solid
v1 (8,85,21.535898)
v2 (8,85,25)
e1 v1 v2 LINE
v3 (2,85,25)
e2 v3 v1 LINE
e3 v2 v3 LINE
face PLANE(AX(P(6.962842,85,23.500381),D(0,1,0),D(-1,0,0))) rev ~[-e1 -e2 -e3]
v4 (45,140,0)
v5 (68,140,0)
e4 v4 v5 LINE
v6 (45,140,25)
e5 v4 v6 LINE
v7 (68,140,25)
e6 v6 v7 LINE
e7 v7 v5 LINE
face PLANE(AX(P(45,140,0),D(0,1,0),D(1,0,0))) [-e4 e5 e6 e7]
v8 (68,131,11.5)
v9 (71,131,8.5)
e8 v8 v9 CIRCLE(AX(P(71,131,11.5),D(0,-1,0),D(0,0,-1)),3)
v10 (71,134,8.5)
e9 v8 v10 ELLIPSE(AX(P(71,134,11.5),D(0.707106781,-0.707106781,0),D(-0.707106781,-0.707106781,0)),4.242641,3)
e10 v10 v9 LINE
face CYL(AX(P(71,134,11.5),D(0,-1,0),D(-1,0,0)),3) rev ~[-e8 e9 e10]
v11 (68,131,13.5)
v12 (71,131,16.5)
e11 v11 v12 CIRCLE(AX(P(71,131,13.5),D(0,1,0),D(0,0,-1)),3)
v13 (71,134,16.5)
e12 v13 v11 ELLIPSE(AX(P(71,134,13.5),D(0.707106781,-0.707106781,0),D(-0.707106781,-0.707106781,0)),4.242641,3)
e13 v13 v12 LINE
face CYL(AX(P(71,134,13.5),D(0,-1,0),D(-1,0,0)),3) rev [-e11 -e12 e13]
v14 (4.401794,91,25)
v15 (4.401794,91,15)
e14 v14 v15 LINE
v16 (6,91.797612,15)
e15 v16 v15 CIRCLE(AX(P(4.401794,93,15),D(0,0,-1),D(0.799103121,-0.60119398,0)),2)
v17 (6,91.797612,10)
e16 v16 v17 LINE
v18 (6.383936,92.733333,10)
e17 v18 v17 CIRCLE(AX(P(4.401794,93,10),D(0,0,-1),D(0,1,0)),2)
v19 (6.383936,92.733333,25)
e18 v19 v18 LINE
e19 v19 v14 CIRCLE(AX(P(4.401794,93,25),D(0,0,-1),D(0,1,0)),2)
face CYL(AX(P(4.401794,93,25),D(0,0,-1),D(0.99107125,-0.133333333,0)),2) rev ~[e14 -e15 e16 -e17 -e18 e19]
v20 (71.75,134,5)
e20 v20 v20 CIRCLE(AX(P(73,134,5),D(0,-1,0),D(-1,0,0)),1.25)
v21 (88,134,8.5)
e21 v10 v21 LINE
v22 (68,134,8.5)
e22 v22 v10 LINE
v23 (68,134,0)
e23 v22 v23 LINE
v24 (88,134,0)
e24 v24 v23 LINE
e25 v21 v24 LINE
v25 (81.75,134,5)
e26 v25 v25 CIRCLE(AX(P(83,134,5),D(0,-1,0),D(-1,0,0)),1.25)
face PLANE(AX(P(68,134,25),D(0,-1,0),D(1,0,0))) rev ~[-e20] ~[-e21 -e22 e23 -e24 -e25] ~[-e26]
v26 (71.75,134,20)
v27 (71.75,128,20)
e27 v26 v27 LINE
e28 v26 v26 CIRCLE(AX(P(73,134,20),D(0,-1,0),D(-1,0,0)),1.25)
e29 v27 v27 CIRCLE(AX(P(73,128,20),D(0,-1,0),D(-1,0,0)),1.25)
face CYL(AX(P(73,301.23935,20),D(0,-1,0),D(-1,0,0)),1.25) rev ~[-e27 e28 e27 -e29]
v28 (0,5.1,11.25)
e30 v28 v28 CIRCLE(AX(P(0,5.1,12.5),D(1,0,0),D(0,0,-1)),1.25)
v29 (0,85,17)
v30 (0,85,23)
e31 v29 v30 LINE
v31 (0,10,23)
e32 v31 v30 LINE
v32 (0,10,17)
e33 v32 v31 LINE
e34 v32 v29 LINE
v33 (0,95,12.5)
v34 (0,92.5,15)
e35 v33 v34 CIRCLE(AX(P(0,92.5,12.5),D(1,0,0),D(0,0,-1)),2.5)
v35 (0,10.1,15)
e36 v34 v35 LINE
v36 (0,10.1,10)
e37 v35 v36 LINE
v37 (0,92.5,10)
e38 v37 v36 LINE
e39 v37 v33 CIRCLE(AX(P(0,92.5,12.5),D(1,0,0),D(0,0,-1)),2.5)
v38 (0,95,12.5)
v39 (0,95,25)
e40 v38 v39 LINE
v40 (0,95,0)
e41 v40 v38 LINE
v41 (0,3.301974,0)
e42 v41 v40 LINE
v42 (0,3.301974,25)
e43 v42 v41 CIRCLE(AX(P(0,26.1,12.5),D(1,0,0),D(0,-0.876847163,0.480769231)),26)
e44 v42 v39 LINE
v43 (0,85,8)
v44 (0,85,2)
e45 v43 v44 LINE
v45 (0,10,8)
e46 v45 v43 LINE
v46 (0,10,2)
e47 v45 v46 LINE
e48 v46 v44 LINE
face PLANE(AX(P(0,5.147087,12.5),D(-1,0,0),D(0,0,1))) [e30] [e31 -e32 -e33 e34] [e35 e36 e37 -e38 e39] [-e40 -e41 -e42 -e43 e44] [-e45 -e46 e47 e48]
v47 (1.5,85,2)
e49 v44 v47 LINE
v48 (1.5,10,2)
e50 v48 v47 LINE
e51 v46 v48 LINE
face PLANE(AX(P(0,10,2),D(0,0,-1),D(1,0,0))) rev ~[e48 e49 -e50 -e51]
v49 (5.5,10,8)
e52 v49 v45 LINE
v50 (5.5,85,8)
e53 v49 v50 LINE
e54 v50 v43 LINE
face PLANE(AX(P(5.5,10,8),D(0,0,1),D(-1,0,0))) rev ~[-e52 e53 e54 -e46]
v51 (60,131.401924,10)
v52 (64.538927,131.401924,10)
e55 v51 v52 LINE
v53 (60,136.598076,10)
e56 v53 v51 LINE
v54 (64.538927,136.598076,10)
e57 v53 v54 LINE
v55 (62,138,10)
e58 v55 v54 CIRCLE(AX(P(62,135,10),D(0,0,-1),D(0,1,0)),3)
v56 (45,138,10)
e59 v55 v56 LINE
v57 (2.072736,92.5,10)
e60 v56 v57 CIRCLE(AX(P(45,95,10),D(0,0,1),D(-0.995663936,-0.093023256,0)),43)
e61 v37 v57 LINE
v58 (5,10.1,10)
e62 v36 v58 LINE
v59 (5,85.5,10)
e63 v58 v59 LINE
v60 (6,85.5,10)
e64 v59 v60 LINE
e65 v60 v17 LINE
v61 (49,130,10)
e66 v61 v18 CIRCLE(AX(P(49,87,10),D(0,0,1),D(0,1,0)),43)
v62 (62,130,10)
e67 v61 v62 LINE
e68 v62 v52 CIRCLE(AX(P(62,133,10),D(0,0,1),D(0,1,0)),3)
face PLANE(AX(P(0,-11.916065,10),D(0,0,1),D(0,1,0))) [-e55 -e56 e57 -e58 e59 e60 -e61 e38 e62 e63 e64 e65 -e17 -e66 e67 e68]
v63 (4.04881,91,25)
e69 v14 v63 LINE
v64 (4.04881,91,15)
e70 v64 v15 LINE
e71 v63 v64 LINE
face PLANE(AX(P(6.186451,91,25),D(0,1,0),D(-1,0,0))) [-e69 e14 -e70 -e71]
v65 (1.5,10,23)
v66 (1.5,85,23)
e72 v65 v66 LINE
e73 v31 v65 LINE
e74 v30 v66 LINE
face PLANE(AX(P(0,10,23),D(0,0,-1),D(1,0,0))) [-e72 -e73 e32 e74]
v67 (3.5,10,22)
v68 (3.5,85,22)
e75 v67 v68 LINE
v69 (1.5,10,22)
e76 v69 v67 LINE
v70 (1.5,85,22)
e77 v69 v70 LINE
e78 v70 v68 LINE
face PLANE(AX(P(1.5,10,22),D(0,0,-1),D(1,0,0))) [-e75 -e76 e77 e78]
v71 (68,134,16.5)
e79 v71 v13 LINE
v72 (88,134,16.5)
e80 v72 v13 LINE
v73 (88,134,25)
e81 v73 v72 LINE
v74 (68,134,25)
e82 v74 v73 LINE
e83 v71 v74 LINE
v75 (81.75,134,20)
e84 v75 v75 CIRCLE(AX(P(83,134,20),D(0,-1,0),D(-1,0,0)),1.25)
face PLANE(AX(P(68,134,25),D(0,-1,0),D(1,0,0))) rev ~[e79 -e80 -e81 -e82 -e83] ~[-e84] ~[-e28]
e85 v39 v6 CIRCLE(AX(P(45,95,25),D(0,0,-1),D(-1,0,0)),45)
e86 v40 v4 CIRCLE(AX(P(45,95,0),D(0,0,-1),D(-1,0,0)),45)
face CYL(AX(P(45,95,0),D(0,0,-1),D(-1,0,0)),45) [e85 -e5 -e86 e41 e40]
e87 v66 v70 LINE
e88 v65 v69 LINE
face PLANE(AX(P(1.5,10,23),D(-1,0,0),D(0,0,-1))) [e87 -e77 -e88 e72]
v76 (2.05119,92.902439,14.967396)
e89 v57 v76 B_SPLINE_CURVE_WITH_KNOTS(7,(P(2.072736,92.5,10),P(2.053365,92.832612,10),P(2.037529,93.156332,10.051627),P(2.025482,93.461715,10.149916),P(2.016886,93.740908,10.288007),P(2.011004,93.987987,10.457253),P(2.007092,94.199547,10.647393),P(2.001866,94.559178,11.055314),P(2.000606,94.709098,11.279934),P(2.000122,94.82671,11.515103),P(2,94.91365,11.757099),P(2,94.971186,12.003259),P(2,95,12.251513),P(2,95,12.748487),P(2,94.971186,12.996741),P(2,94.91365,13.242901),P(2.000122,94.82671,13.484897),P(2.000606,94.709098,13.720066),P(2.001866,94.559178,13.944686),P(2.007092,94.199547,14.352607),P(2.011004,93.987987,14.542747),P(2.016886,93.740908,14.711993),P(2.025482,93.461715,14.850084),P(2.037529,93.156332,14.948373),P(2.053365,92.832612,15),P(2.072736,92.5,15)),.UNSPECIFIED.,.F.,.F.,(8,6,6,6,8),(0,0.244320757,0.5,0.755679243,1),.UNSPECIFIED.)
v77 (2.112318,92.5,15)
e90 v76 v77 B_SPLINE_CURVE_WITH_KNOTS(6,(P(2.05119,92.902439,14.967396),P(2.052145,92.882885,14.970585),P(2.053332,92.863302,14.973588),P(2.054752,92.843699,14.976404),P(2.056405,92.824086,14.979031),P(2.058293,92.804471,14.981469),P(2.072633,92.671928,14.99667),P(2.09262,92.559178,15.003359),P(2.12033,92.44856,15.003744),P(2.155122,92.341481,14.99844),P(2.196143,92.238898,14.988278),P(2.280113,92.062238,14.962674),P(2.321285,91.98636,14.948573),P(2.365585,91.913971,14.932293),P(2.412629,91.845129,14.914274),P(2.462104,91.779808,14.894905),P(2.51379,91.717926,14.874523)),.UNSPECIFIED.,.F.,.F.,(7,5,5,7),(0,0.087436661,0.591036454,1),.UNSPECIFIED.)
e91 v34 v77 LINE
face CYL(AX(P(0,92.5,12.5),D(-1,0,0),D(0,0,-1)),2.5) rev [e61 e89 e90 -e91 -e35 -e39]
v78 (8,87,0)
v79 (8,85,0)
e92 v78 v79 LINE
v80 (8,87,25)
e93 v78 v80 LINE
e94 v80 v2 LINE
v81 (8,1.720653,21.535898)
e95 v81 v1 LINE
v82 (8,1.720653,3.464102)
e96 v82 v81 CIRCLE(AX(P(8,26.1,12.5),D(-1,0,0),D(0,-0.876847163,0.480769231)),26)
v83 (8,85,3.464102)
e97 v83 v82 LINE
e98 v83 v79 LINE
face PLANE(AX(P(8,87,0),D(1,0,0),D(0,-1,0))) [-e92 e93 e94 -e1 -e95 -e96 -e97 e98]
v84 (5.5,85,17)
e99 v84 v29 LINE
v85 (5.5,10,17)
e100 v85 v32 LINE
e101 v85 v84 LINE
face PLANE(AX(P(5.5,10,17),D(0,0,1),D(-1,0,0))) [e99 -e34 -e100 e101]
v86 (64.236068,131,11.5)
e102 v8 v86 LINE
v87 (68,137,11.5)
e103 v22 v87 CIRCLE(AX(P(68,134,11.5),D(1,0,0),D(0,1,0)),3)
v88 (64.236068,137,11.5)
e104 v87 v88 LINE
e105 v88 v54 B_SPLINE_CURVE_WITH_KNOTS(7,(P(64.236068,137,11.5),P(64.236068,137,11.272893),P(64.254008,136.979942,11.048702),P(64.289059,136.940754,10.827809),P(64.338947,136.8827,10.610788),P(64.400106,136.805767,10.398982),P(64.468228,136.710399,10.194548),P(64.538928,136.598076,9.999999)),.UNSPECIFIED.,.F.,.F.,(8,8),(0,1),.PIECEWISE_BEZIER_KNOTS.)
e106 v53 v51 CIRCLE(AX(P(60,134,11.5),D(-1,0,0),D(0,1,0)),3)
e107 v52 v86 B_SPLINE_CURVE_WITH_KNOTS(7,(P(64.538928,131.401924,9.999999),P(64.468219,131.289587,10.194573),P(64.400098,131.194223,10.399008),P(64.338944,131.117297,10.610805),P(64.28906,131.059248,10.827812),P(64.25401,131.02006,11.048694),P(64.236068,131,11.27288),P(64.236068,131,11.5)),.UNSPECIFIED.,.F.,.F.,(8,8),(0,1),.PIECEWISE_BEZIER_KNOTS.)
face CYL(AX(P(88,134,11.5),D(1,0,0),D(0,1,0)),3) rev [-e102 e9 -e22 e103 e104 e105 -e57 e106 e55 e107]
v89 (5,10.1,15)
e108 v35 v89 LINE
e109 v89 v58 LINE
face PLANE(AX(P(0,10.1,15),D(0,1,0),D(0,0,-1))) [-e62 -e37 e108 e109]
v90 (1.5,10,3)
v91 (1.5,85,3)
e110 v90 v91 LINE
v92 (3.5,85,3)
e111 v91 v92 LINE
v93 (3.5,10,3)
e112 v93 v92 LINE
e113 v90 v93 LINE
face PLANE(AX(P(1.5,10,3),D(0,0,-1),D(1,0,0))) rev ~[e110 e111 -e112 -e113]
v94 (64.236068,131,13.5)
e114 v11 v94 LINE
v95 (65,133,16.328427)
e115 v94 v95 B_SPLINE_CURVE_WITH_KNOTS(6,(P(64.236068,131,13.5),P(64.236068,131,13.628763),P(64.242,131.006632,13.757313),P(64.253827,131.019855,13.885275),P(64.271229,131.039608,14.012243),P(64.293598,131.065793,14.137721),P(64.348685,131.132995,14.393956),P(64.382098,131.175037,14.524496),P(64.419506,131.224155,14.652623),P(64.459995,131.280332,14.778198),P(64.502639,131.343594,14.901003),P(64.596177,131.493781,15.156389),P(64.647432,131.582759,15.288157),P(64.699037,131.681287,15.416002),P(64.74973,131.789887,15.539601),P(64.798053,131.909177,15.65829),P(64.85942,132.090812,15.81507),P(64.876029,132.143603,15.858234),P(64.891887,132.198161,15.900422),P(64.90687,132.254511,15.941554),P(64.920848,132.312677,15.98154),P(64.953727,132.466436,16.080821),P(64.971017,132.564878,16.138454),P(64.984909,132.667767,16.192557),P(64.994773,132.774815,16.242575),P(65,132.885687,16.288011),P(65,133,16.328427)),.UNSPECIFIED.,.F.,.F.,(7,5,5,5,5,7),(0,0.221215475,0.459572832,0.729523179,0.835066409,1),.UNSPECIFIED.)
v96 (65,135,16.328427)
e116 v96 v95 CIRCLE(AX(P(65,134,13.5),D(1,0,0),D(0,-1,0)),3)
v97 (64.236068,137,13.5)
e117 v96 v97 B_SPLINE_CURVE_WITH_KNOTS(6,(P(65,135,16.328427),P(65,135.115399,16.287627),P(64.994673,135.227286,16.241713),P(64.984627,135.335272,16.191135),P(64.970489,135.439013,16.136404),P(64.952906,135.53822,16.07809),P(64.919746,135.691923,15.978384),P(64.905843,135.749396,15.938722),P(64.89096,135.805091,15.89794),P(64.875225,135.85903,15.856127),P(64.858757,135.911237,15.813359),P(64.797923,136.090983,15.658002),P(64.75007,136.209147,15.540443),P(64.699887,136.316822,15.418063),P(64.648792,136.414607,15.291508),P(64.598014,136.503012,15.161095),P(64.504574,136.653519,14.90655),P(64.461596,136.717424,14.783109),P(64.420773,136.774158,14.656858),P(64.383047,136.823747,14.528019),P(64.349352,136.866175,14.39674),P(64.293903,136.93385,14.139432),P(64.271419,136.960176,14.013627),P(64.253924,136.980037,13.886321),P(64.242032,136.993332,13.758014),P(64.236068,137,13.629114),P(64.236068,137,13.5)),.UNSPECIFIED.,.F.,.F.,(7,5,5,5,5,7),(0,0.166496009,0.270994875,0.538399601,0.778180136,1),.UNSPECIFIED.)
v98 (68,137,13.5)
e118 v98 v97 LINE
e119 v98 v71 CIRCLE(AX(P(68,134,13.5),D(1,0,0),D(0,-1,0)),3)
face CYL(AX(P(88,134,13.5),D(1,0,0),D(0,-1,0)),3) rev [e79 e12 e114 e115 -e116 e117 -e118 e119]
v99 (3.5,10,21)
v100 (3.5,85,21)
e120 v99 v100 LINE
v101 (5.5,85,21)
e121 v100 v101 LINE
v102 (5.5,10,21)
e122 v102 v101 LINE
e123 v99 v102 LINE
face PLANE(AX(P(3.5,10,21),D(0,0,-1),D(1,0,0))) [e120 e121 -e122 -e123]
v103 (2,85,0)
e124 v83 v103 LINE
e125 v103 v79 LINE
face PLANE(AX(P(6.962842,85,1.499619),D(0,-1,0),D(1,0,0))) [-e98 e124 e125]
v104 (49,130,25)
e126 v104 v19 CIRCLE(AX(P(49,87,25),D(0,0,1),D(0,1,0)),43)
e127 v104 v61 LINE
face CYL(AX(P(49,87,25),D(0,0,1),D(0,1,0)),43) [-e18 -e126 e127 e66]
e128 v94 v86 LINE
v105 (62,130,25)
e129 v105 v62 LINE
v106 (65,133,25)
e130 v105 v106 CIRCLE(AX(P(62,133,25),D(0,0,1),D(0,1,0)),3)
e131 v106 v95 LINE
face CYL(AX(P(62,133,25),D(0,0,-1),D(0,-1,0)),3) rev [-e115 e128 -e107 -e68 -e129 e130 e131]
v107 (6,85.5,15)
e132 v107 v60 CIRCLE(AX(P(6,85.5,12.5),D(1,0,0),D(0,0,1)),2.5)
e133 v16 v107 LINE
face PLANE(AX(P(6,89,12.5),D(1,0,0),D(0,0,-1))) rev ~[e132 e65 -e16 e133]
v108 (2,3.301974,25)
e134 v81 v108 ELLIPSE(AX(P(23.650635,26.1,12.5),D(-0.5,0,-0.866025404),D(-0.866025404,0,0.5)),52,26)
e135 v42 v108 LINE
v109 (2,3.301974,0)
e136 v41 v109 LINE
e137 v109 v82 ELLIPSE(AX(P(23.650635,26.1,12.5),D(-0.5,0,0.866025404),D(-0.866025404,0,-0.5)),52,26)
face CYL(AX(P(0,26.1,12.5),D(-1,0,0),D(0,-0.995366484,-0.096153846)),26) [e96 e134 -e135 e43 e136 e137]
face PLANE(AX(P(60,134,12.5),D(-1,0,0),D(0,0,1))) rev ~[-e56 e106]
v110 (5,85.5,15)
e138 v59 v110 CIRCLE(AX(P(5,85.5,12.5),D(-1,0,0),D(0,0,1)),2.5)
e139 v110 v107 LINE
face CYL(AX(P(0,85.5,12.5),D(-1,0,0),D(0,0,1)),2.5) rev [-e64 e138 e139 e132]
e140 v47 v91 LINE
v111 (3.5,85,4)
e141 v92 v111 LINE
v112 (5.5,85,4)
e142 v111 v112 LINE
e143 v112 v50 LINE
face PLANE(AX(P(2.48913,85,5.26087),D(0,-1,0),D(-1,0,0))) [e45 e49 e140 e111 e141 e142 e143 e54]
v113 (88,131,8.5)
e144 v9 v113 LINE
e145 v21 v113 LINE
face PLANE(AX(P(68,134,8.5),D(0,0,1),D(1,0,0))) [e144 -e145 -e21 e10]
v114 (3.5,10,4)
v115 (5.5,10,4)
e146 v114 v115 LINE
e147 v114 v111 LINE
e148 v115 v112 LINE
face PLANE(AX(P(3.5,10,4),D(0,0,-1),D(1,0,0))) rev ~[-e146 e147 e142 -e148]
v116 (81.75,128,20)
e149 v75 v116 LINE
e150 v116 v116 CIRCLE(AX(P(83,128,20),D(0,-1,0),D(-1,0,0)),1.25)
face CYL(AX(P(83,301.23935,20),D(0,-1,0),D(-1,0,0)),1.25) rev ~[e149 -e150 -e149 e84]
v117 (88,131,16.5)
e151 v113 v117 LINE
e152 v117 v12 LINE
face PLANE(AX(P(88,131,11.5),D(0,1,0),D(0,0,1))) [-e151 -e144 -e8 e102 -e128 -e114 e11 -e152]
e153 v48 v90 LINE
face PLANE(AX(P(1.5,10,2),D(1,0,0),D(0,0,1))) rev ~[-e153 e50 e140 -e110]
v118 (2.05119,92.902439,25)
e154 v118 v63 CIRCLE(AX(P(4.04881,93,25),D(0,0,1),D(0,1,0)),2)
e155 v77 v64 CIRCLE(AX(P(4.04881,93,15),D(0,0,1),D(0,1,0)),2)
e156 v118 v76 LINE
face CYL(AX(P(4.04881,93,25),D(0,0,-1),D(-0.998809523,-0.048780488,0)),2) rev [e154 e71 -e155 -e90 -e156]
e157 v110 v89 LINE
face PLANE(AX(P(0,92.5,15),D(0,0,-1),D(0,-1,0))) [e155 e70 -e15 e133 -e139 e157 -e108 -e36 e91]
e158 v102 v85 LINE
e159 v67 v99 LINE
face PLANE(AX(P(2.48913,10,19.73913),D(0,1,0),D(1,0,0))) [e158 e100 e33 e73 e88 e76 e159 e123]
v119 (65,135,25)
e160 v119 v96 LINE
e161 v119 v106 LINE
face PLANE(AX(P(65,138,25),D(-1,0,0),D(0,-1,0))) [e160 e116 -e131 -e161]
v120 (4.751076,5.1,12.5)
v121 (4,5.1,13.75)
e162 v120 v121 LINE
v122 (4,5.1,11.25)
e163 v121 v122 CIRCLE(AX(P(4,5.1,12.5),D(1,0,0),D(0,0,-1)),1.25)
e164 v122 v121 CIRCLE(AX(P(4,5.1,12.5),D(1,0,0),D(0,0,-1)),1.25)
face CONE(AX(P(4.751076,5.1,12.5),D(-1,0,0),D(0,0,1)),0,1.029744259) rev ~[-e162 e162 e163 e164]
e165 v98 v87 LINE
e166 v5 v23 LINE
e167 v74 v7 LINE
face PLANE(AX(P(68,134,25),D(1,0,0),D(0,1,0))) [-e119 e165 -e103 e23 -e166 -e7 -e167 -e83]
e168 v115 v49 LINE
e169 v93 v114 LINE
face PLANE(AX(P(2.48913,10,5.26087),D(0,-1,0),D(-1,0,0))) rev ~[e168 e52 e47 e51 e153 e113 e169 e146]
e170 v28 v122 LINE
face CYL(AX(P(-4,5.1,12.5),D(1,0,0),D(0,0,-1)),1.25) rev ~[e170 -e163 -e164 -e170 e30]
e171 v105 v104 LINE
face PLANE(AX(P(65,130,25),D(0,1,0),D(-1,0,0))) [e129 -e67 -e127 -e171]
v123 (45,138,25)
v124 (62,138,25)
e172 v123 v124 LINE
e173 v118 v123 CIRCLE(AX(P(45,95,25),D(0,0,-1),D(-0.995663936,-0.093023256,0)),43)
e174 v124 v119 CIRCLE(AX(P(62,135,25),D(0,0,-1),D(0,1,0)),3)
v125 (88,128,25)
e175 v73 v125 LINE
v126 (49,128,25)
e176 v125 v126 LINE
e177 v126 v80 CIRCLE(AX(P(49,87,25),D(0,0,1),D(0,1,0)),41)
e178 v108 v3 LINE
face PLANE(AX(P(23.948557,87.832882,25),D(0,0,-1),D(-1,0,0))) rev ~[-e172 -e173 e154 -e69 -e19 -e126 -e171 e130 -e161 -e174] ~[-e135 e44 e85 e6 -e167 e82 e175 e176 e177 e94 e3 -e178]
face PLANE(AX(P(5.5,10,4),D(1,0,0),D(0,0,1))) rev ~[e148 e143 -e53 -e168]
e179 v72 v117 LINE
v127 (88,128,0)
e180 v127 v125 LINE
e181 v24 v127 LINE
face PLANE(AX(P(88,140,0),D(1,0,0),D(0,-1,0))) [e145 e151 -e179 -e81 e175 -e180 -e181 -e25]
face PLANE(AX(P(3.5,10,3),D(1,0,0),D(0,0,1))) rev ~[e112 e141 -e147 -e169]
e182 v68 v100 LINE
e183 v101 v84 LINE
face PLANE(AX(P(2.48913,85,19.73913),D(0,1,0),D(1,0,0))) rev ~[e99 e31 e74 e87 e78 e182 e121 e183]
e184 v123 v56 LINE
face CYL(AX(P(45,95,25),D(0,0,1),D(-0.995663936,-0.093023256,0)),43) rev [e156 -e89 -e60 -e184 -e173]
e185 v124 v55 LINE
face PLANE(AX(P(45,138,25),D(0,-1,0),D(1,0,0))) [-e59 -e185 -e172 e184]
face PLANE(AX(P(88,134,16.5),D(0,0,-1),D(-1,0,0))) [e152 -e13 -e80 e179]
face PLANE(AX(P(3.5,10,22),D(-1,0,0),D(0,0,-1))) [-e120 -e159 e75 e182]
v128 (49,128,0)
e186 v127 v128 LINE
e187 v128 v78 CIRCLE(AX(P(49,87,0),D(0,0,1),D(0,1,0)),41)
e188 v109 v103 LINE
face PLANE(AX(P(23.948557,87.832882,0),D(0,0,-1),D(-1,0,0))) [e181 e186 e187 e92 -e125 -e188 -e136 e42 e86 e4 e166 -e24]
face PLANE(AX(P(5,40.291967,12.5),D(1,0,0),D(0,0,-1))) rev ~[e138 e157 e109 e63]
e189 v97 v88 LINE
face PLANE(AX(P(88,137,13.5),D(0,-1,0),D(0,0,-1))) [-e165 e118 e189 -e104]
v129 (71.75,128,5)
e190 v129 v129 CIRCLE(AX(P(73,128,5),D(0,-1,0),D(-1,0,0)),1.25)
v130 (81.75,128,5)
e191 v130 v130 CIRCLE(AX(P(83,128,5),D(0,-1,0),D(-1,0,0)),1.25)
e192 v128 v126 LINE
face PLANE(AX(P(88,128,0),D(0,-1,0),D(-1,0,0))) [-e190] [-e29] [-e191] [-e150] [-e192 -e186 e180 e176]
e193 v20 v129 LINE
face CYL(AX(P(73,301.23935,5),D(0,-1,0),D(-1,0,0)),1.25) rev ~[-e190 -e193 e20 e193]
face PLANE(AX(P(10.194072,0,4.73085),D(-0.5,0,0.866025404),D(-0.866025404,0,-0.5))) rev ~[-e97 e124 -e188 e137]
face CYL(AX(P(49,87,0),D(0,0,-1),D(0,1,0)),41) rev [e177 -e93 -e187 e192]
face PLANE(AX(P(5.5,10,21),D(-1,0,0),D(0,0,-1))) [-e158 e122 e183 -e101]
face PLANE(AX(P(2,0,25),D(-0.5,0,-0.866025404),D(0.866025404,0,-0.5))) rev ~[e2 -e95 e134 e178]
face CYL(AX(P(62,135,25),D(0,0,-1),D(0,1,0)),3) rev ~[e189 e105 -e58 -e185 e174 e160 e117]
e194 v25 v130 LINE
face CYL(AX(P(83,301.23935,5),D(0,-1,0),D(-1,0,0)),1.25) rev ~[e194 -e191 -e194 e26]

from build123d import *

# Parameters (mm, degrees)
EXTRUDE_1_DEPTH      = 25
SKETCH_2_W           = 20.000000000000014
SKETCH_2_H           = 6
CUT_EXTRUDE_1_DEPTH  = 168.23934943666816
CUT_EXTRUDE_2_DEPTH  = 85
CUT_EXTRUDE_4_DEPTH  = 5
CUT_EXTRUDE_3_REACH  = 169.239
FILLET_3_R           = 2
FILLET_4_R           = 3
CUT_EXTRUDE_6_DEPTH  = 75
M3X0_51_D            = 2.5
CUT_EXTRUDE_7_REACH  = 169.239
CUT_EXTRUDE_8_DEPTH  = 3
FILLET_8_R           = 3
CUT_EXTRUDE_9_DEPTH  = 28
CUT_EXTRUDE_10_DEPTH = 6
EXTRUDE_2_DEPTH      = 5
M3X0_52_D            = 2.5
M3X0_52_DEPTH        = 4
M3X0_52_TIP          = 0.7510757737844503


with BuildPart() as part:
    # Эскиз1 → Бобышка-Вытянуть1 (new body)
    with BuildSketch(Plane.XY):
        with BuildLine():
            Line((0, 0), (0, 95))
            ThreePointArc((0, 95), (13.18019484660537, 126.81980515339464), (45, 140))
            Line((45, 140), (88, 140))
            Line((88, 140), (88, 128))
            Line((88, 128), (49, 127.99999999999997))
            ThreePointArc((49, 127.99999999999997), (20.00862197135158, 115.99137802864843), (8.000000000000002, 87))
            Line((8.000000000000002, 87), (8, 0))
            Line((8, 0), (0, 0))
        make_face()
    extrude(amount=EXTRUDE_1_DEPTH)

    # Эскиз2 → Вырез-Вытянуть1 (cut, through all)
    with BuildSketch(Plane.XY.offset(25)):
        with Locations((78, 137)):
            Rectangle(SKETCH_2_W, SKETCH_2_H)
    extrude(amount=-CUT_EXTRUDE_1_DEPTH, mode=Mode.SUBTRACT)

    # Эскиз5 → Вырез-Вытянуть2 (cut)
    with BuildSketch(Plane.XZ):
        Polygon((8, 3.4641016151377366), (2, 0), (8, 0), (10.194072484648698, 0), (10.1940724846487, 4.730849954771208), align=None)
        Polygon((1.9999999999999971, 25), (7.999999999999993, 25), (10.194072484648695, 25), (10.194072484648698, 20.26915004522879), (7.999999999999998, 21.535898384862264), align=None)
    extrude(amount=-CUT_EXTRUDE_2_DEPTH, mode=Mode.SUBTRACT)

    # Эскиз6 → Вырез-Вытянуть4 (cut)
    with BuildSketch(Plane.ZY):
        with BuildLine():
            Line((10.000000000000004, -11.916065179701535), (10.000000000000004, 92.5))
            ThreePointArc((10.000000000000004, 92.5), (12.500000000000004, 95), (15.000000000000005, 92.5))
            Line((15.000000000000005, 92.5), (15.000000000000005, -11.916065179701535))
            ThreePointArc((15.000000000000005, -11.916065179701535), (12.500000000000004, -14.416065179701535), (10.000000000000004, -11.916065179701535))
        make_face()
    extrude(amount=-CUT_EXTRUDE_4_DEPTH, mode=Mode.SUBTRACT)

    # Вырез-Вытянуть3: up to this face of the body (flat: up to its plane)
    cut_extrude_3_end = Plane(part.part.faces().sort_by_distance((2.5, 46.25, 10))[0])
    # Эскиз3 → Вырез-Вытянуть3 (cut, up to the picked face)
    with BuildSketch(Plane(origin=(0, 0, 25), x_dir=(-1, 0, 0), z_dir=(0, 0, -1)), mode=Mode.PRIVATE) as cut_extrude_3_sk1:
        with BuildLine():
            Line((-64.99999999999999, 138), (-64.99999999999999, 130))
            Line((-64.99999999999999, 130), (-49.00000000000001, 130))
            ThreePointArc((-49.00000000000001, 130), (-20.04313552885945, 118.78836265050464), (-6.186450742784722, 90.9999999999999))
            Line((-6.186450742784722, 90.9999999999999), (-2.186450742784722, 90.9999999999999))
            ThreePointArc((-2.186450742784722, 90.9999999999999), (-13.211637349495152, 123.9568644711403), (-44.999999999999545, 138))
            Line((-44.999999999999545, 138), (-64.99999999999999, 138))
        make_face()
    cut_extrude_3_tool1 = split(extrude(cut_extrude_3_sk1.sketch, amount=CUT_EXTRUDE_3_REACH, mode=Mode.PRIVATE), bisect_by=cut_extrude_3_end, keep=Keep.BOTH, mode=Mode.PRIVATE)
    add(cut_extrude_3_tool1.solids().sort_by(Axis((55, 137.213997, 25), (0, 0, -1)))[0], mode=Mode.SUBTRACT)

    # Скругление3
    fillet_3_edges = [part.edges().sort_by_distance(p)[0] for p in [
        (6.186450742784729, 90.9999999999999, 17.5),
        (2.186450742784718, 90.9999999999999, 20.000000000000004),
    ]]
    fillet(fillet_3_edges, radius=FILLET_3_R)

    # Скругление4
    fillet_4_edges = [part.edges().sort_by_distance(p)[0] for p in [
        (64.99999999999999, 138, 17.5),
        (64.99999999999999, 130, 17.5),
    ]]
    fillet(fillet_4_edges, radius=FILLET_4_R)

    # Эскиз8 → Вырез-Вытянуть6 (cut)
    with BuildSketch(Plane(origin=(0, 10, 0), x_dir=(1, 0, 0), z_dir=(0, 1, 0))):
        Polygon((0, -2), (1.5, -2), (1.5, -3), (3.4999999999999996, -3), (3.4999999999999996, -4.0000000000000036), (5.499999999999993, -4.0000000000000036), (5.499999999999994, -8.000000000000004), (0, -8.000000000000004), align=None)
        Polygon((3.500000000000003, -22.000000000000004), (3.500000000000003, -20.999999999999996), (5.499999999999995, -20.999999999999996), (5.499999999999996, -16.999999999999996), (6.94e-15, -16.999999999999996), (6.94e-15, -23), (1.5000000000000036, -23), (1.5000000000000036, -22.000000000000004), align=None)
    extrude(amount=CUT_EXTRUDE_6_DEPTH, mode=Mode.SUBTRACT)

    # Отверстие обработанное метчиком M3x0.51 (through all)
    with Locations(Plane(origin=(19.191951444358242, 134, 18.79968596761044), x_dir=(1, 0, 0), z_dir=(0, 1, 0))):
        with Locations((53.808048556, 13.799685968), (63.808048556, 13.799685968), (63.808048556, -1.200314032), (53.808048556, -1.200314032)):
            Hole(M3X0_51_D / 2)

    # Эскиз12 → Вырез-Вытянуть7 (cut, up to next)
    with BuildSketch(Plane.ZY, mode=Mode.PRIVATE) as cut_extrude_7_sk1:
        with BuildLine():
            Line((0, 3.301973769644008), (0, 0))
            Line((0, 0), (12.500000000000004, -3.47e-15))
            Line((12.500000000000004, -3.47e-15), (25, 0))
            Line((25, 0), (25, 3.301973769644008))
            ThreePointArc((25, 3.301973769644008), (12.500000000000005, 0.10000000000000142), (0, 3.301973769644008))
        make_face()
    cut_extrude_7_tool1 = extrude(cut_extrude_7_sk1.sketch, amount=-CUT_EXTRUDE_7_REACH, mode=Mode.PRIVATE) & part.part
    add(cut_extrude_7_tool1.solids().sort_by_distance((0, 1.650987, 0.252171))[0], mode=Mode.SUBTRACT)

    # Эскиз13 → Вырез-Вытянуть8 (cut)
    with BuildSketch(Plane(origin=(0, 134, 0), x_dir=(1, 0, 0), z_dir=(0, 1, 0))):
        Polygon((68.00000000000009, -8.5), (88.00000000000001, -8.499999999999996), (88.00000000000001, -16.5), (68.00000000000009, -16.499999999999996), align=None)
    extrude(amount=-CUT_EXTRUDE_8_DEPTH, mode=Mode.SUBTRACT)

    # Скругление8
    fillet_8_edges = [part.edges().sort_by_distance(p)[0] for p in [
        (68.00000000000009, 132.5, 16.499999999999996),
        (68.00000000000009, 132.5, 8.5),
    ]]
    fillet(fillet_8_edges, radius=FILLET_8_R)

    # Эскиз14 → Вырез-Вытянуть9 (cut)
    with BuildSketch(Plane(origin=(88, 0, 0), x_dir=(0, 0, -1), z_dir=(1, -1.16e-15, 0))):
        with BuildLine():
            Line((-13.499999999999998, 137), (-11.5, 137))
            ThreePointArc((-11.5, 137), (-8.5, 134), (-11.5, 131))
            Line((-11.5, 131), (-13.499999999999998, 131))
            ThreePointArc((-13.499999999999998, 131), (-16.5, 134), (-13.499999999999998, 137))
        make_face()
    extrude(amount=-CUT_EXTRUDE_9_DEPTH, mode=Mode.SUBTRACT)

    # Эскиз15 → Вырез-Вытянуть10 (cut)
    with BuildSketch(Plane.ZY):
        with BuildLine():
            Line((15.000000000000004, 92.5), (15.000000000000004, 85.49999999999999))
            ThreePointArc((15.000000000000004, 85.49999999999999), (12.500000000000005, 82.99999999999999), (10.000000000000007, 85.49999999999999))
            Line((10.000000000000007, 85.49999999999999), (10.000000000000005, 92.5))
            ThreePointArc((10.000000000000005, 92.5), (12.500000000000004, 95), (15.000000000000004, 92.5))
        make_face()
    extrude(amount=-CUT_EXTRUDE_10_DEPTH, mode=Mode.SUBTRACT)

    # Эскиз19 → Бобышка-Вытянуть2 (add)
    with BuildSketch(Plane.ZY):
        with BuildLine():
            Line((10.000000000000002, 10.100000000000001), (10.000000000000004, 0.22047141078493024))
            ThreePointArc((10.000000000000004, 0.22047141078493024), (12.500000000000005, 0.09999999999999787), (15.000000000000004, 0.22047141078493718))
            Line((15.000000000000004, 0.22047141078493718), (15.000000000000002, 10.100000000000001))
            Line((15.000000000000002, 10.100000000000001), (10.000000000000002, 10.100000000000001))
        make_face()
    extrude(amount=-EXTRUDE_2_DEPTH)

    # Отверстие обработанное метчиком M3x0.52
    with Locations(Plane.ZY):
        with Locations((12.5, 5.1)):
            Hole(M3X0_52_D / 2, depth=M3X0_52_DEPTH)
            with Locations((0, 0, -(M3X0_52_DEPTH + M3X0_52_TIP / 2))):  # 118° drill point
                Cone(0, M3X0_52_D / 2, M3X0_52_TIP, mode=Mode.SUBTRACT)


solid = part.part
